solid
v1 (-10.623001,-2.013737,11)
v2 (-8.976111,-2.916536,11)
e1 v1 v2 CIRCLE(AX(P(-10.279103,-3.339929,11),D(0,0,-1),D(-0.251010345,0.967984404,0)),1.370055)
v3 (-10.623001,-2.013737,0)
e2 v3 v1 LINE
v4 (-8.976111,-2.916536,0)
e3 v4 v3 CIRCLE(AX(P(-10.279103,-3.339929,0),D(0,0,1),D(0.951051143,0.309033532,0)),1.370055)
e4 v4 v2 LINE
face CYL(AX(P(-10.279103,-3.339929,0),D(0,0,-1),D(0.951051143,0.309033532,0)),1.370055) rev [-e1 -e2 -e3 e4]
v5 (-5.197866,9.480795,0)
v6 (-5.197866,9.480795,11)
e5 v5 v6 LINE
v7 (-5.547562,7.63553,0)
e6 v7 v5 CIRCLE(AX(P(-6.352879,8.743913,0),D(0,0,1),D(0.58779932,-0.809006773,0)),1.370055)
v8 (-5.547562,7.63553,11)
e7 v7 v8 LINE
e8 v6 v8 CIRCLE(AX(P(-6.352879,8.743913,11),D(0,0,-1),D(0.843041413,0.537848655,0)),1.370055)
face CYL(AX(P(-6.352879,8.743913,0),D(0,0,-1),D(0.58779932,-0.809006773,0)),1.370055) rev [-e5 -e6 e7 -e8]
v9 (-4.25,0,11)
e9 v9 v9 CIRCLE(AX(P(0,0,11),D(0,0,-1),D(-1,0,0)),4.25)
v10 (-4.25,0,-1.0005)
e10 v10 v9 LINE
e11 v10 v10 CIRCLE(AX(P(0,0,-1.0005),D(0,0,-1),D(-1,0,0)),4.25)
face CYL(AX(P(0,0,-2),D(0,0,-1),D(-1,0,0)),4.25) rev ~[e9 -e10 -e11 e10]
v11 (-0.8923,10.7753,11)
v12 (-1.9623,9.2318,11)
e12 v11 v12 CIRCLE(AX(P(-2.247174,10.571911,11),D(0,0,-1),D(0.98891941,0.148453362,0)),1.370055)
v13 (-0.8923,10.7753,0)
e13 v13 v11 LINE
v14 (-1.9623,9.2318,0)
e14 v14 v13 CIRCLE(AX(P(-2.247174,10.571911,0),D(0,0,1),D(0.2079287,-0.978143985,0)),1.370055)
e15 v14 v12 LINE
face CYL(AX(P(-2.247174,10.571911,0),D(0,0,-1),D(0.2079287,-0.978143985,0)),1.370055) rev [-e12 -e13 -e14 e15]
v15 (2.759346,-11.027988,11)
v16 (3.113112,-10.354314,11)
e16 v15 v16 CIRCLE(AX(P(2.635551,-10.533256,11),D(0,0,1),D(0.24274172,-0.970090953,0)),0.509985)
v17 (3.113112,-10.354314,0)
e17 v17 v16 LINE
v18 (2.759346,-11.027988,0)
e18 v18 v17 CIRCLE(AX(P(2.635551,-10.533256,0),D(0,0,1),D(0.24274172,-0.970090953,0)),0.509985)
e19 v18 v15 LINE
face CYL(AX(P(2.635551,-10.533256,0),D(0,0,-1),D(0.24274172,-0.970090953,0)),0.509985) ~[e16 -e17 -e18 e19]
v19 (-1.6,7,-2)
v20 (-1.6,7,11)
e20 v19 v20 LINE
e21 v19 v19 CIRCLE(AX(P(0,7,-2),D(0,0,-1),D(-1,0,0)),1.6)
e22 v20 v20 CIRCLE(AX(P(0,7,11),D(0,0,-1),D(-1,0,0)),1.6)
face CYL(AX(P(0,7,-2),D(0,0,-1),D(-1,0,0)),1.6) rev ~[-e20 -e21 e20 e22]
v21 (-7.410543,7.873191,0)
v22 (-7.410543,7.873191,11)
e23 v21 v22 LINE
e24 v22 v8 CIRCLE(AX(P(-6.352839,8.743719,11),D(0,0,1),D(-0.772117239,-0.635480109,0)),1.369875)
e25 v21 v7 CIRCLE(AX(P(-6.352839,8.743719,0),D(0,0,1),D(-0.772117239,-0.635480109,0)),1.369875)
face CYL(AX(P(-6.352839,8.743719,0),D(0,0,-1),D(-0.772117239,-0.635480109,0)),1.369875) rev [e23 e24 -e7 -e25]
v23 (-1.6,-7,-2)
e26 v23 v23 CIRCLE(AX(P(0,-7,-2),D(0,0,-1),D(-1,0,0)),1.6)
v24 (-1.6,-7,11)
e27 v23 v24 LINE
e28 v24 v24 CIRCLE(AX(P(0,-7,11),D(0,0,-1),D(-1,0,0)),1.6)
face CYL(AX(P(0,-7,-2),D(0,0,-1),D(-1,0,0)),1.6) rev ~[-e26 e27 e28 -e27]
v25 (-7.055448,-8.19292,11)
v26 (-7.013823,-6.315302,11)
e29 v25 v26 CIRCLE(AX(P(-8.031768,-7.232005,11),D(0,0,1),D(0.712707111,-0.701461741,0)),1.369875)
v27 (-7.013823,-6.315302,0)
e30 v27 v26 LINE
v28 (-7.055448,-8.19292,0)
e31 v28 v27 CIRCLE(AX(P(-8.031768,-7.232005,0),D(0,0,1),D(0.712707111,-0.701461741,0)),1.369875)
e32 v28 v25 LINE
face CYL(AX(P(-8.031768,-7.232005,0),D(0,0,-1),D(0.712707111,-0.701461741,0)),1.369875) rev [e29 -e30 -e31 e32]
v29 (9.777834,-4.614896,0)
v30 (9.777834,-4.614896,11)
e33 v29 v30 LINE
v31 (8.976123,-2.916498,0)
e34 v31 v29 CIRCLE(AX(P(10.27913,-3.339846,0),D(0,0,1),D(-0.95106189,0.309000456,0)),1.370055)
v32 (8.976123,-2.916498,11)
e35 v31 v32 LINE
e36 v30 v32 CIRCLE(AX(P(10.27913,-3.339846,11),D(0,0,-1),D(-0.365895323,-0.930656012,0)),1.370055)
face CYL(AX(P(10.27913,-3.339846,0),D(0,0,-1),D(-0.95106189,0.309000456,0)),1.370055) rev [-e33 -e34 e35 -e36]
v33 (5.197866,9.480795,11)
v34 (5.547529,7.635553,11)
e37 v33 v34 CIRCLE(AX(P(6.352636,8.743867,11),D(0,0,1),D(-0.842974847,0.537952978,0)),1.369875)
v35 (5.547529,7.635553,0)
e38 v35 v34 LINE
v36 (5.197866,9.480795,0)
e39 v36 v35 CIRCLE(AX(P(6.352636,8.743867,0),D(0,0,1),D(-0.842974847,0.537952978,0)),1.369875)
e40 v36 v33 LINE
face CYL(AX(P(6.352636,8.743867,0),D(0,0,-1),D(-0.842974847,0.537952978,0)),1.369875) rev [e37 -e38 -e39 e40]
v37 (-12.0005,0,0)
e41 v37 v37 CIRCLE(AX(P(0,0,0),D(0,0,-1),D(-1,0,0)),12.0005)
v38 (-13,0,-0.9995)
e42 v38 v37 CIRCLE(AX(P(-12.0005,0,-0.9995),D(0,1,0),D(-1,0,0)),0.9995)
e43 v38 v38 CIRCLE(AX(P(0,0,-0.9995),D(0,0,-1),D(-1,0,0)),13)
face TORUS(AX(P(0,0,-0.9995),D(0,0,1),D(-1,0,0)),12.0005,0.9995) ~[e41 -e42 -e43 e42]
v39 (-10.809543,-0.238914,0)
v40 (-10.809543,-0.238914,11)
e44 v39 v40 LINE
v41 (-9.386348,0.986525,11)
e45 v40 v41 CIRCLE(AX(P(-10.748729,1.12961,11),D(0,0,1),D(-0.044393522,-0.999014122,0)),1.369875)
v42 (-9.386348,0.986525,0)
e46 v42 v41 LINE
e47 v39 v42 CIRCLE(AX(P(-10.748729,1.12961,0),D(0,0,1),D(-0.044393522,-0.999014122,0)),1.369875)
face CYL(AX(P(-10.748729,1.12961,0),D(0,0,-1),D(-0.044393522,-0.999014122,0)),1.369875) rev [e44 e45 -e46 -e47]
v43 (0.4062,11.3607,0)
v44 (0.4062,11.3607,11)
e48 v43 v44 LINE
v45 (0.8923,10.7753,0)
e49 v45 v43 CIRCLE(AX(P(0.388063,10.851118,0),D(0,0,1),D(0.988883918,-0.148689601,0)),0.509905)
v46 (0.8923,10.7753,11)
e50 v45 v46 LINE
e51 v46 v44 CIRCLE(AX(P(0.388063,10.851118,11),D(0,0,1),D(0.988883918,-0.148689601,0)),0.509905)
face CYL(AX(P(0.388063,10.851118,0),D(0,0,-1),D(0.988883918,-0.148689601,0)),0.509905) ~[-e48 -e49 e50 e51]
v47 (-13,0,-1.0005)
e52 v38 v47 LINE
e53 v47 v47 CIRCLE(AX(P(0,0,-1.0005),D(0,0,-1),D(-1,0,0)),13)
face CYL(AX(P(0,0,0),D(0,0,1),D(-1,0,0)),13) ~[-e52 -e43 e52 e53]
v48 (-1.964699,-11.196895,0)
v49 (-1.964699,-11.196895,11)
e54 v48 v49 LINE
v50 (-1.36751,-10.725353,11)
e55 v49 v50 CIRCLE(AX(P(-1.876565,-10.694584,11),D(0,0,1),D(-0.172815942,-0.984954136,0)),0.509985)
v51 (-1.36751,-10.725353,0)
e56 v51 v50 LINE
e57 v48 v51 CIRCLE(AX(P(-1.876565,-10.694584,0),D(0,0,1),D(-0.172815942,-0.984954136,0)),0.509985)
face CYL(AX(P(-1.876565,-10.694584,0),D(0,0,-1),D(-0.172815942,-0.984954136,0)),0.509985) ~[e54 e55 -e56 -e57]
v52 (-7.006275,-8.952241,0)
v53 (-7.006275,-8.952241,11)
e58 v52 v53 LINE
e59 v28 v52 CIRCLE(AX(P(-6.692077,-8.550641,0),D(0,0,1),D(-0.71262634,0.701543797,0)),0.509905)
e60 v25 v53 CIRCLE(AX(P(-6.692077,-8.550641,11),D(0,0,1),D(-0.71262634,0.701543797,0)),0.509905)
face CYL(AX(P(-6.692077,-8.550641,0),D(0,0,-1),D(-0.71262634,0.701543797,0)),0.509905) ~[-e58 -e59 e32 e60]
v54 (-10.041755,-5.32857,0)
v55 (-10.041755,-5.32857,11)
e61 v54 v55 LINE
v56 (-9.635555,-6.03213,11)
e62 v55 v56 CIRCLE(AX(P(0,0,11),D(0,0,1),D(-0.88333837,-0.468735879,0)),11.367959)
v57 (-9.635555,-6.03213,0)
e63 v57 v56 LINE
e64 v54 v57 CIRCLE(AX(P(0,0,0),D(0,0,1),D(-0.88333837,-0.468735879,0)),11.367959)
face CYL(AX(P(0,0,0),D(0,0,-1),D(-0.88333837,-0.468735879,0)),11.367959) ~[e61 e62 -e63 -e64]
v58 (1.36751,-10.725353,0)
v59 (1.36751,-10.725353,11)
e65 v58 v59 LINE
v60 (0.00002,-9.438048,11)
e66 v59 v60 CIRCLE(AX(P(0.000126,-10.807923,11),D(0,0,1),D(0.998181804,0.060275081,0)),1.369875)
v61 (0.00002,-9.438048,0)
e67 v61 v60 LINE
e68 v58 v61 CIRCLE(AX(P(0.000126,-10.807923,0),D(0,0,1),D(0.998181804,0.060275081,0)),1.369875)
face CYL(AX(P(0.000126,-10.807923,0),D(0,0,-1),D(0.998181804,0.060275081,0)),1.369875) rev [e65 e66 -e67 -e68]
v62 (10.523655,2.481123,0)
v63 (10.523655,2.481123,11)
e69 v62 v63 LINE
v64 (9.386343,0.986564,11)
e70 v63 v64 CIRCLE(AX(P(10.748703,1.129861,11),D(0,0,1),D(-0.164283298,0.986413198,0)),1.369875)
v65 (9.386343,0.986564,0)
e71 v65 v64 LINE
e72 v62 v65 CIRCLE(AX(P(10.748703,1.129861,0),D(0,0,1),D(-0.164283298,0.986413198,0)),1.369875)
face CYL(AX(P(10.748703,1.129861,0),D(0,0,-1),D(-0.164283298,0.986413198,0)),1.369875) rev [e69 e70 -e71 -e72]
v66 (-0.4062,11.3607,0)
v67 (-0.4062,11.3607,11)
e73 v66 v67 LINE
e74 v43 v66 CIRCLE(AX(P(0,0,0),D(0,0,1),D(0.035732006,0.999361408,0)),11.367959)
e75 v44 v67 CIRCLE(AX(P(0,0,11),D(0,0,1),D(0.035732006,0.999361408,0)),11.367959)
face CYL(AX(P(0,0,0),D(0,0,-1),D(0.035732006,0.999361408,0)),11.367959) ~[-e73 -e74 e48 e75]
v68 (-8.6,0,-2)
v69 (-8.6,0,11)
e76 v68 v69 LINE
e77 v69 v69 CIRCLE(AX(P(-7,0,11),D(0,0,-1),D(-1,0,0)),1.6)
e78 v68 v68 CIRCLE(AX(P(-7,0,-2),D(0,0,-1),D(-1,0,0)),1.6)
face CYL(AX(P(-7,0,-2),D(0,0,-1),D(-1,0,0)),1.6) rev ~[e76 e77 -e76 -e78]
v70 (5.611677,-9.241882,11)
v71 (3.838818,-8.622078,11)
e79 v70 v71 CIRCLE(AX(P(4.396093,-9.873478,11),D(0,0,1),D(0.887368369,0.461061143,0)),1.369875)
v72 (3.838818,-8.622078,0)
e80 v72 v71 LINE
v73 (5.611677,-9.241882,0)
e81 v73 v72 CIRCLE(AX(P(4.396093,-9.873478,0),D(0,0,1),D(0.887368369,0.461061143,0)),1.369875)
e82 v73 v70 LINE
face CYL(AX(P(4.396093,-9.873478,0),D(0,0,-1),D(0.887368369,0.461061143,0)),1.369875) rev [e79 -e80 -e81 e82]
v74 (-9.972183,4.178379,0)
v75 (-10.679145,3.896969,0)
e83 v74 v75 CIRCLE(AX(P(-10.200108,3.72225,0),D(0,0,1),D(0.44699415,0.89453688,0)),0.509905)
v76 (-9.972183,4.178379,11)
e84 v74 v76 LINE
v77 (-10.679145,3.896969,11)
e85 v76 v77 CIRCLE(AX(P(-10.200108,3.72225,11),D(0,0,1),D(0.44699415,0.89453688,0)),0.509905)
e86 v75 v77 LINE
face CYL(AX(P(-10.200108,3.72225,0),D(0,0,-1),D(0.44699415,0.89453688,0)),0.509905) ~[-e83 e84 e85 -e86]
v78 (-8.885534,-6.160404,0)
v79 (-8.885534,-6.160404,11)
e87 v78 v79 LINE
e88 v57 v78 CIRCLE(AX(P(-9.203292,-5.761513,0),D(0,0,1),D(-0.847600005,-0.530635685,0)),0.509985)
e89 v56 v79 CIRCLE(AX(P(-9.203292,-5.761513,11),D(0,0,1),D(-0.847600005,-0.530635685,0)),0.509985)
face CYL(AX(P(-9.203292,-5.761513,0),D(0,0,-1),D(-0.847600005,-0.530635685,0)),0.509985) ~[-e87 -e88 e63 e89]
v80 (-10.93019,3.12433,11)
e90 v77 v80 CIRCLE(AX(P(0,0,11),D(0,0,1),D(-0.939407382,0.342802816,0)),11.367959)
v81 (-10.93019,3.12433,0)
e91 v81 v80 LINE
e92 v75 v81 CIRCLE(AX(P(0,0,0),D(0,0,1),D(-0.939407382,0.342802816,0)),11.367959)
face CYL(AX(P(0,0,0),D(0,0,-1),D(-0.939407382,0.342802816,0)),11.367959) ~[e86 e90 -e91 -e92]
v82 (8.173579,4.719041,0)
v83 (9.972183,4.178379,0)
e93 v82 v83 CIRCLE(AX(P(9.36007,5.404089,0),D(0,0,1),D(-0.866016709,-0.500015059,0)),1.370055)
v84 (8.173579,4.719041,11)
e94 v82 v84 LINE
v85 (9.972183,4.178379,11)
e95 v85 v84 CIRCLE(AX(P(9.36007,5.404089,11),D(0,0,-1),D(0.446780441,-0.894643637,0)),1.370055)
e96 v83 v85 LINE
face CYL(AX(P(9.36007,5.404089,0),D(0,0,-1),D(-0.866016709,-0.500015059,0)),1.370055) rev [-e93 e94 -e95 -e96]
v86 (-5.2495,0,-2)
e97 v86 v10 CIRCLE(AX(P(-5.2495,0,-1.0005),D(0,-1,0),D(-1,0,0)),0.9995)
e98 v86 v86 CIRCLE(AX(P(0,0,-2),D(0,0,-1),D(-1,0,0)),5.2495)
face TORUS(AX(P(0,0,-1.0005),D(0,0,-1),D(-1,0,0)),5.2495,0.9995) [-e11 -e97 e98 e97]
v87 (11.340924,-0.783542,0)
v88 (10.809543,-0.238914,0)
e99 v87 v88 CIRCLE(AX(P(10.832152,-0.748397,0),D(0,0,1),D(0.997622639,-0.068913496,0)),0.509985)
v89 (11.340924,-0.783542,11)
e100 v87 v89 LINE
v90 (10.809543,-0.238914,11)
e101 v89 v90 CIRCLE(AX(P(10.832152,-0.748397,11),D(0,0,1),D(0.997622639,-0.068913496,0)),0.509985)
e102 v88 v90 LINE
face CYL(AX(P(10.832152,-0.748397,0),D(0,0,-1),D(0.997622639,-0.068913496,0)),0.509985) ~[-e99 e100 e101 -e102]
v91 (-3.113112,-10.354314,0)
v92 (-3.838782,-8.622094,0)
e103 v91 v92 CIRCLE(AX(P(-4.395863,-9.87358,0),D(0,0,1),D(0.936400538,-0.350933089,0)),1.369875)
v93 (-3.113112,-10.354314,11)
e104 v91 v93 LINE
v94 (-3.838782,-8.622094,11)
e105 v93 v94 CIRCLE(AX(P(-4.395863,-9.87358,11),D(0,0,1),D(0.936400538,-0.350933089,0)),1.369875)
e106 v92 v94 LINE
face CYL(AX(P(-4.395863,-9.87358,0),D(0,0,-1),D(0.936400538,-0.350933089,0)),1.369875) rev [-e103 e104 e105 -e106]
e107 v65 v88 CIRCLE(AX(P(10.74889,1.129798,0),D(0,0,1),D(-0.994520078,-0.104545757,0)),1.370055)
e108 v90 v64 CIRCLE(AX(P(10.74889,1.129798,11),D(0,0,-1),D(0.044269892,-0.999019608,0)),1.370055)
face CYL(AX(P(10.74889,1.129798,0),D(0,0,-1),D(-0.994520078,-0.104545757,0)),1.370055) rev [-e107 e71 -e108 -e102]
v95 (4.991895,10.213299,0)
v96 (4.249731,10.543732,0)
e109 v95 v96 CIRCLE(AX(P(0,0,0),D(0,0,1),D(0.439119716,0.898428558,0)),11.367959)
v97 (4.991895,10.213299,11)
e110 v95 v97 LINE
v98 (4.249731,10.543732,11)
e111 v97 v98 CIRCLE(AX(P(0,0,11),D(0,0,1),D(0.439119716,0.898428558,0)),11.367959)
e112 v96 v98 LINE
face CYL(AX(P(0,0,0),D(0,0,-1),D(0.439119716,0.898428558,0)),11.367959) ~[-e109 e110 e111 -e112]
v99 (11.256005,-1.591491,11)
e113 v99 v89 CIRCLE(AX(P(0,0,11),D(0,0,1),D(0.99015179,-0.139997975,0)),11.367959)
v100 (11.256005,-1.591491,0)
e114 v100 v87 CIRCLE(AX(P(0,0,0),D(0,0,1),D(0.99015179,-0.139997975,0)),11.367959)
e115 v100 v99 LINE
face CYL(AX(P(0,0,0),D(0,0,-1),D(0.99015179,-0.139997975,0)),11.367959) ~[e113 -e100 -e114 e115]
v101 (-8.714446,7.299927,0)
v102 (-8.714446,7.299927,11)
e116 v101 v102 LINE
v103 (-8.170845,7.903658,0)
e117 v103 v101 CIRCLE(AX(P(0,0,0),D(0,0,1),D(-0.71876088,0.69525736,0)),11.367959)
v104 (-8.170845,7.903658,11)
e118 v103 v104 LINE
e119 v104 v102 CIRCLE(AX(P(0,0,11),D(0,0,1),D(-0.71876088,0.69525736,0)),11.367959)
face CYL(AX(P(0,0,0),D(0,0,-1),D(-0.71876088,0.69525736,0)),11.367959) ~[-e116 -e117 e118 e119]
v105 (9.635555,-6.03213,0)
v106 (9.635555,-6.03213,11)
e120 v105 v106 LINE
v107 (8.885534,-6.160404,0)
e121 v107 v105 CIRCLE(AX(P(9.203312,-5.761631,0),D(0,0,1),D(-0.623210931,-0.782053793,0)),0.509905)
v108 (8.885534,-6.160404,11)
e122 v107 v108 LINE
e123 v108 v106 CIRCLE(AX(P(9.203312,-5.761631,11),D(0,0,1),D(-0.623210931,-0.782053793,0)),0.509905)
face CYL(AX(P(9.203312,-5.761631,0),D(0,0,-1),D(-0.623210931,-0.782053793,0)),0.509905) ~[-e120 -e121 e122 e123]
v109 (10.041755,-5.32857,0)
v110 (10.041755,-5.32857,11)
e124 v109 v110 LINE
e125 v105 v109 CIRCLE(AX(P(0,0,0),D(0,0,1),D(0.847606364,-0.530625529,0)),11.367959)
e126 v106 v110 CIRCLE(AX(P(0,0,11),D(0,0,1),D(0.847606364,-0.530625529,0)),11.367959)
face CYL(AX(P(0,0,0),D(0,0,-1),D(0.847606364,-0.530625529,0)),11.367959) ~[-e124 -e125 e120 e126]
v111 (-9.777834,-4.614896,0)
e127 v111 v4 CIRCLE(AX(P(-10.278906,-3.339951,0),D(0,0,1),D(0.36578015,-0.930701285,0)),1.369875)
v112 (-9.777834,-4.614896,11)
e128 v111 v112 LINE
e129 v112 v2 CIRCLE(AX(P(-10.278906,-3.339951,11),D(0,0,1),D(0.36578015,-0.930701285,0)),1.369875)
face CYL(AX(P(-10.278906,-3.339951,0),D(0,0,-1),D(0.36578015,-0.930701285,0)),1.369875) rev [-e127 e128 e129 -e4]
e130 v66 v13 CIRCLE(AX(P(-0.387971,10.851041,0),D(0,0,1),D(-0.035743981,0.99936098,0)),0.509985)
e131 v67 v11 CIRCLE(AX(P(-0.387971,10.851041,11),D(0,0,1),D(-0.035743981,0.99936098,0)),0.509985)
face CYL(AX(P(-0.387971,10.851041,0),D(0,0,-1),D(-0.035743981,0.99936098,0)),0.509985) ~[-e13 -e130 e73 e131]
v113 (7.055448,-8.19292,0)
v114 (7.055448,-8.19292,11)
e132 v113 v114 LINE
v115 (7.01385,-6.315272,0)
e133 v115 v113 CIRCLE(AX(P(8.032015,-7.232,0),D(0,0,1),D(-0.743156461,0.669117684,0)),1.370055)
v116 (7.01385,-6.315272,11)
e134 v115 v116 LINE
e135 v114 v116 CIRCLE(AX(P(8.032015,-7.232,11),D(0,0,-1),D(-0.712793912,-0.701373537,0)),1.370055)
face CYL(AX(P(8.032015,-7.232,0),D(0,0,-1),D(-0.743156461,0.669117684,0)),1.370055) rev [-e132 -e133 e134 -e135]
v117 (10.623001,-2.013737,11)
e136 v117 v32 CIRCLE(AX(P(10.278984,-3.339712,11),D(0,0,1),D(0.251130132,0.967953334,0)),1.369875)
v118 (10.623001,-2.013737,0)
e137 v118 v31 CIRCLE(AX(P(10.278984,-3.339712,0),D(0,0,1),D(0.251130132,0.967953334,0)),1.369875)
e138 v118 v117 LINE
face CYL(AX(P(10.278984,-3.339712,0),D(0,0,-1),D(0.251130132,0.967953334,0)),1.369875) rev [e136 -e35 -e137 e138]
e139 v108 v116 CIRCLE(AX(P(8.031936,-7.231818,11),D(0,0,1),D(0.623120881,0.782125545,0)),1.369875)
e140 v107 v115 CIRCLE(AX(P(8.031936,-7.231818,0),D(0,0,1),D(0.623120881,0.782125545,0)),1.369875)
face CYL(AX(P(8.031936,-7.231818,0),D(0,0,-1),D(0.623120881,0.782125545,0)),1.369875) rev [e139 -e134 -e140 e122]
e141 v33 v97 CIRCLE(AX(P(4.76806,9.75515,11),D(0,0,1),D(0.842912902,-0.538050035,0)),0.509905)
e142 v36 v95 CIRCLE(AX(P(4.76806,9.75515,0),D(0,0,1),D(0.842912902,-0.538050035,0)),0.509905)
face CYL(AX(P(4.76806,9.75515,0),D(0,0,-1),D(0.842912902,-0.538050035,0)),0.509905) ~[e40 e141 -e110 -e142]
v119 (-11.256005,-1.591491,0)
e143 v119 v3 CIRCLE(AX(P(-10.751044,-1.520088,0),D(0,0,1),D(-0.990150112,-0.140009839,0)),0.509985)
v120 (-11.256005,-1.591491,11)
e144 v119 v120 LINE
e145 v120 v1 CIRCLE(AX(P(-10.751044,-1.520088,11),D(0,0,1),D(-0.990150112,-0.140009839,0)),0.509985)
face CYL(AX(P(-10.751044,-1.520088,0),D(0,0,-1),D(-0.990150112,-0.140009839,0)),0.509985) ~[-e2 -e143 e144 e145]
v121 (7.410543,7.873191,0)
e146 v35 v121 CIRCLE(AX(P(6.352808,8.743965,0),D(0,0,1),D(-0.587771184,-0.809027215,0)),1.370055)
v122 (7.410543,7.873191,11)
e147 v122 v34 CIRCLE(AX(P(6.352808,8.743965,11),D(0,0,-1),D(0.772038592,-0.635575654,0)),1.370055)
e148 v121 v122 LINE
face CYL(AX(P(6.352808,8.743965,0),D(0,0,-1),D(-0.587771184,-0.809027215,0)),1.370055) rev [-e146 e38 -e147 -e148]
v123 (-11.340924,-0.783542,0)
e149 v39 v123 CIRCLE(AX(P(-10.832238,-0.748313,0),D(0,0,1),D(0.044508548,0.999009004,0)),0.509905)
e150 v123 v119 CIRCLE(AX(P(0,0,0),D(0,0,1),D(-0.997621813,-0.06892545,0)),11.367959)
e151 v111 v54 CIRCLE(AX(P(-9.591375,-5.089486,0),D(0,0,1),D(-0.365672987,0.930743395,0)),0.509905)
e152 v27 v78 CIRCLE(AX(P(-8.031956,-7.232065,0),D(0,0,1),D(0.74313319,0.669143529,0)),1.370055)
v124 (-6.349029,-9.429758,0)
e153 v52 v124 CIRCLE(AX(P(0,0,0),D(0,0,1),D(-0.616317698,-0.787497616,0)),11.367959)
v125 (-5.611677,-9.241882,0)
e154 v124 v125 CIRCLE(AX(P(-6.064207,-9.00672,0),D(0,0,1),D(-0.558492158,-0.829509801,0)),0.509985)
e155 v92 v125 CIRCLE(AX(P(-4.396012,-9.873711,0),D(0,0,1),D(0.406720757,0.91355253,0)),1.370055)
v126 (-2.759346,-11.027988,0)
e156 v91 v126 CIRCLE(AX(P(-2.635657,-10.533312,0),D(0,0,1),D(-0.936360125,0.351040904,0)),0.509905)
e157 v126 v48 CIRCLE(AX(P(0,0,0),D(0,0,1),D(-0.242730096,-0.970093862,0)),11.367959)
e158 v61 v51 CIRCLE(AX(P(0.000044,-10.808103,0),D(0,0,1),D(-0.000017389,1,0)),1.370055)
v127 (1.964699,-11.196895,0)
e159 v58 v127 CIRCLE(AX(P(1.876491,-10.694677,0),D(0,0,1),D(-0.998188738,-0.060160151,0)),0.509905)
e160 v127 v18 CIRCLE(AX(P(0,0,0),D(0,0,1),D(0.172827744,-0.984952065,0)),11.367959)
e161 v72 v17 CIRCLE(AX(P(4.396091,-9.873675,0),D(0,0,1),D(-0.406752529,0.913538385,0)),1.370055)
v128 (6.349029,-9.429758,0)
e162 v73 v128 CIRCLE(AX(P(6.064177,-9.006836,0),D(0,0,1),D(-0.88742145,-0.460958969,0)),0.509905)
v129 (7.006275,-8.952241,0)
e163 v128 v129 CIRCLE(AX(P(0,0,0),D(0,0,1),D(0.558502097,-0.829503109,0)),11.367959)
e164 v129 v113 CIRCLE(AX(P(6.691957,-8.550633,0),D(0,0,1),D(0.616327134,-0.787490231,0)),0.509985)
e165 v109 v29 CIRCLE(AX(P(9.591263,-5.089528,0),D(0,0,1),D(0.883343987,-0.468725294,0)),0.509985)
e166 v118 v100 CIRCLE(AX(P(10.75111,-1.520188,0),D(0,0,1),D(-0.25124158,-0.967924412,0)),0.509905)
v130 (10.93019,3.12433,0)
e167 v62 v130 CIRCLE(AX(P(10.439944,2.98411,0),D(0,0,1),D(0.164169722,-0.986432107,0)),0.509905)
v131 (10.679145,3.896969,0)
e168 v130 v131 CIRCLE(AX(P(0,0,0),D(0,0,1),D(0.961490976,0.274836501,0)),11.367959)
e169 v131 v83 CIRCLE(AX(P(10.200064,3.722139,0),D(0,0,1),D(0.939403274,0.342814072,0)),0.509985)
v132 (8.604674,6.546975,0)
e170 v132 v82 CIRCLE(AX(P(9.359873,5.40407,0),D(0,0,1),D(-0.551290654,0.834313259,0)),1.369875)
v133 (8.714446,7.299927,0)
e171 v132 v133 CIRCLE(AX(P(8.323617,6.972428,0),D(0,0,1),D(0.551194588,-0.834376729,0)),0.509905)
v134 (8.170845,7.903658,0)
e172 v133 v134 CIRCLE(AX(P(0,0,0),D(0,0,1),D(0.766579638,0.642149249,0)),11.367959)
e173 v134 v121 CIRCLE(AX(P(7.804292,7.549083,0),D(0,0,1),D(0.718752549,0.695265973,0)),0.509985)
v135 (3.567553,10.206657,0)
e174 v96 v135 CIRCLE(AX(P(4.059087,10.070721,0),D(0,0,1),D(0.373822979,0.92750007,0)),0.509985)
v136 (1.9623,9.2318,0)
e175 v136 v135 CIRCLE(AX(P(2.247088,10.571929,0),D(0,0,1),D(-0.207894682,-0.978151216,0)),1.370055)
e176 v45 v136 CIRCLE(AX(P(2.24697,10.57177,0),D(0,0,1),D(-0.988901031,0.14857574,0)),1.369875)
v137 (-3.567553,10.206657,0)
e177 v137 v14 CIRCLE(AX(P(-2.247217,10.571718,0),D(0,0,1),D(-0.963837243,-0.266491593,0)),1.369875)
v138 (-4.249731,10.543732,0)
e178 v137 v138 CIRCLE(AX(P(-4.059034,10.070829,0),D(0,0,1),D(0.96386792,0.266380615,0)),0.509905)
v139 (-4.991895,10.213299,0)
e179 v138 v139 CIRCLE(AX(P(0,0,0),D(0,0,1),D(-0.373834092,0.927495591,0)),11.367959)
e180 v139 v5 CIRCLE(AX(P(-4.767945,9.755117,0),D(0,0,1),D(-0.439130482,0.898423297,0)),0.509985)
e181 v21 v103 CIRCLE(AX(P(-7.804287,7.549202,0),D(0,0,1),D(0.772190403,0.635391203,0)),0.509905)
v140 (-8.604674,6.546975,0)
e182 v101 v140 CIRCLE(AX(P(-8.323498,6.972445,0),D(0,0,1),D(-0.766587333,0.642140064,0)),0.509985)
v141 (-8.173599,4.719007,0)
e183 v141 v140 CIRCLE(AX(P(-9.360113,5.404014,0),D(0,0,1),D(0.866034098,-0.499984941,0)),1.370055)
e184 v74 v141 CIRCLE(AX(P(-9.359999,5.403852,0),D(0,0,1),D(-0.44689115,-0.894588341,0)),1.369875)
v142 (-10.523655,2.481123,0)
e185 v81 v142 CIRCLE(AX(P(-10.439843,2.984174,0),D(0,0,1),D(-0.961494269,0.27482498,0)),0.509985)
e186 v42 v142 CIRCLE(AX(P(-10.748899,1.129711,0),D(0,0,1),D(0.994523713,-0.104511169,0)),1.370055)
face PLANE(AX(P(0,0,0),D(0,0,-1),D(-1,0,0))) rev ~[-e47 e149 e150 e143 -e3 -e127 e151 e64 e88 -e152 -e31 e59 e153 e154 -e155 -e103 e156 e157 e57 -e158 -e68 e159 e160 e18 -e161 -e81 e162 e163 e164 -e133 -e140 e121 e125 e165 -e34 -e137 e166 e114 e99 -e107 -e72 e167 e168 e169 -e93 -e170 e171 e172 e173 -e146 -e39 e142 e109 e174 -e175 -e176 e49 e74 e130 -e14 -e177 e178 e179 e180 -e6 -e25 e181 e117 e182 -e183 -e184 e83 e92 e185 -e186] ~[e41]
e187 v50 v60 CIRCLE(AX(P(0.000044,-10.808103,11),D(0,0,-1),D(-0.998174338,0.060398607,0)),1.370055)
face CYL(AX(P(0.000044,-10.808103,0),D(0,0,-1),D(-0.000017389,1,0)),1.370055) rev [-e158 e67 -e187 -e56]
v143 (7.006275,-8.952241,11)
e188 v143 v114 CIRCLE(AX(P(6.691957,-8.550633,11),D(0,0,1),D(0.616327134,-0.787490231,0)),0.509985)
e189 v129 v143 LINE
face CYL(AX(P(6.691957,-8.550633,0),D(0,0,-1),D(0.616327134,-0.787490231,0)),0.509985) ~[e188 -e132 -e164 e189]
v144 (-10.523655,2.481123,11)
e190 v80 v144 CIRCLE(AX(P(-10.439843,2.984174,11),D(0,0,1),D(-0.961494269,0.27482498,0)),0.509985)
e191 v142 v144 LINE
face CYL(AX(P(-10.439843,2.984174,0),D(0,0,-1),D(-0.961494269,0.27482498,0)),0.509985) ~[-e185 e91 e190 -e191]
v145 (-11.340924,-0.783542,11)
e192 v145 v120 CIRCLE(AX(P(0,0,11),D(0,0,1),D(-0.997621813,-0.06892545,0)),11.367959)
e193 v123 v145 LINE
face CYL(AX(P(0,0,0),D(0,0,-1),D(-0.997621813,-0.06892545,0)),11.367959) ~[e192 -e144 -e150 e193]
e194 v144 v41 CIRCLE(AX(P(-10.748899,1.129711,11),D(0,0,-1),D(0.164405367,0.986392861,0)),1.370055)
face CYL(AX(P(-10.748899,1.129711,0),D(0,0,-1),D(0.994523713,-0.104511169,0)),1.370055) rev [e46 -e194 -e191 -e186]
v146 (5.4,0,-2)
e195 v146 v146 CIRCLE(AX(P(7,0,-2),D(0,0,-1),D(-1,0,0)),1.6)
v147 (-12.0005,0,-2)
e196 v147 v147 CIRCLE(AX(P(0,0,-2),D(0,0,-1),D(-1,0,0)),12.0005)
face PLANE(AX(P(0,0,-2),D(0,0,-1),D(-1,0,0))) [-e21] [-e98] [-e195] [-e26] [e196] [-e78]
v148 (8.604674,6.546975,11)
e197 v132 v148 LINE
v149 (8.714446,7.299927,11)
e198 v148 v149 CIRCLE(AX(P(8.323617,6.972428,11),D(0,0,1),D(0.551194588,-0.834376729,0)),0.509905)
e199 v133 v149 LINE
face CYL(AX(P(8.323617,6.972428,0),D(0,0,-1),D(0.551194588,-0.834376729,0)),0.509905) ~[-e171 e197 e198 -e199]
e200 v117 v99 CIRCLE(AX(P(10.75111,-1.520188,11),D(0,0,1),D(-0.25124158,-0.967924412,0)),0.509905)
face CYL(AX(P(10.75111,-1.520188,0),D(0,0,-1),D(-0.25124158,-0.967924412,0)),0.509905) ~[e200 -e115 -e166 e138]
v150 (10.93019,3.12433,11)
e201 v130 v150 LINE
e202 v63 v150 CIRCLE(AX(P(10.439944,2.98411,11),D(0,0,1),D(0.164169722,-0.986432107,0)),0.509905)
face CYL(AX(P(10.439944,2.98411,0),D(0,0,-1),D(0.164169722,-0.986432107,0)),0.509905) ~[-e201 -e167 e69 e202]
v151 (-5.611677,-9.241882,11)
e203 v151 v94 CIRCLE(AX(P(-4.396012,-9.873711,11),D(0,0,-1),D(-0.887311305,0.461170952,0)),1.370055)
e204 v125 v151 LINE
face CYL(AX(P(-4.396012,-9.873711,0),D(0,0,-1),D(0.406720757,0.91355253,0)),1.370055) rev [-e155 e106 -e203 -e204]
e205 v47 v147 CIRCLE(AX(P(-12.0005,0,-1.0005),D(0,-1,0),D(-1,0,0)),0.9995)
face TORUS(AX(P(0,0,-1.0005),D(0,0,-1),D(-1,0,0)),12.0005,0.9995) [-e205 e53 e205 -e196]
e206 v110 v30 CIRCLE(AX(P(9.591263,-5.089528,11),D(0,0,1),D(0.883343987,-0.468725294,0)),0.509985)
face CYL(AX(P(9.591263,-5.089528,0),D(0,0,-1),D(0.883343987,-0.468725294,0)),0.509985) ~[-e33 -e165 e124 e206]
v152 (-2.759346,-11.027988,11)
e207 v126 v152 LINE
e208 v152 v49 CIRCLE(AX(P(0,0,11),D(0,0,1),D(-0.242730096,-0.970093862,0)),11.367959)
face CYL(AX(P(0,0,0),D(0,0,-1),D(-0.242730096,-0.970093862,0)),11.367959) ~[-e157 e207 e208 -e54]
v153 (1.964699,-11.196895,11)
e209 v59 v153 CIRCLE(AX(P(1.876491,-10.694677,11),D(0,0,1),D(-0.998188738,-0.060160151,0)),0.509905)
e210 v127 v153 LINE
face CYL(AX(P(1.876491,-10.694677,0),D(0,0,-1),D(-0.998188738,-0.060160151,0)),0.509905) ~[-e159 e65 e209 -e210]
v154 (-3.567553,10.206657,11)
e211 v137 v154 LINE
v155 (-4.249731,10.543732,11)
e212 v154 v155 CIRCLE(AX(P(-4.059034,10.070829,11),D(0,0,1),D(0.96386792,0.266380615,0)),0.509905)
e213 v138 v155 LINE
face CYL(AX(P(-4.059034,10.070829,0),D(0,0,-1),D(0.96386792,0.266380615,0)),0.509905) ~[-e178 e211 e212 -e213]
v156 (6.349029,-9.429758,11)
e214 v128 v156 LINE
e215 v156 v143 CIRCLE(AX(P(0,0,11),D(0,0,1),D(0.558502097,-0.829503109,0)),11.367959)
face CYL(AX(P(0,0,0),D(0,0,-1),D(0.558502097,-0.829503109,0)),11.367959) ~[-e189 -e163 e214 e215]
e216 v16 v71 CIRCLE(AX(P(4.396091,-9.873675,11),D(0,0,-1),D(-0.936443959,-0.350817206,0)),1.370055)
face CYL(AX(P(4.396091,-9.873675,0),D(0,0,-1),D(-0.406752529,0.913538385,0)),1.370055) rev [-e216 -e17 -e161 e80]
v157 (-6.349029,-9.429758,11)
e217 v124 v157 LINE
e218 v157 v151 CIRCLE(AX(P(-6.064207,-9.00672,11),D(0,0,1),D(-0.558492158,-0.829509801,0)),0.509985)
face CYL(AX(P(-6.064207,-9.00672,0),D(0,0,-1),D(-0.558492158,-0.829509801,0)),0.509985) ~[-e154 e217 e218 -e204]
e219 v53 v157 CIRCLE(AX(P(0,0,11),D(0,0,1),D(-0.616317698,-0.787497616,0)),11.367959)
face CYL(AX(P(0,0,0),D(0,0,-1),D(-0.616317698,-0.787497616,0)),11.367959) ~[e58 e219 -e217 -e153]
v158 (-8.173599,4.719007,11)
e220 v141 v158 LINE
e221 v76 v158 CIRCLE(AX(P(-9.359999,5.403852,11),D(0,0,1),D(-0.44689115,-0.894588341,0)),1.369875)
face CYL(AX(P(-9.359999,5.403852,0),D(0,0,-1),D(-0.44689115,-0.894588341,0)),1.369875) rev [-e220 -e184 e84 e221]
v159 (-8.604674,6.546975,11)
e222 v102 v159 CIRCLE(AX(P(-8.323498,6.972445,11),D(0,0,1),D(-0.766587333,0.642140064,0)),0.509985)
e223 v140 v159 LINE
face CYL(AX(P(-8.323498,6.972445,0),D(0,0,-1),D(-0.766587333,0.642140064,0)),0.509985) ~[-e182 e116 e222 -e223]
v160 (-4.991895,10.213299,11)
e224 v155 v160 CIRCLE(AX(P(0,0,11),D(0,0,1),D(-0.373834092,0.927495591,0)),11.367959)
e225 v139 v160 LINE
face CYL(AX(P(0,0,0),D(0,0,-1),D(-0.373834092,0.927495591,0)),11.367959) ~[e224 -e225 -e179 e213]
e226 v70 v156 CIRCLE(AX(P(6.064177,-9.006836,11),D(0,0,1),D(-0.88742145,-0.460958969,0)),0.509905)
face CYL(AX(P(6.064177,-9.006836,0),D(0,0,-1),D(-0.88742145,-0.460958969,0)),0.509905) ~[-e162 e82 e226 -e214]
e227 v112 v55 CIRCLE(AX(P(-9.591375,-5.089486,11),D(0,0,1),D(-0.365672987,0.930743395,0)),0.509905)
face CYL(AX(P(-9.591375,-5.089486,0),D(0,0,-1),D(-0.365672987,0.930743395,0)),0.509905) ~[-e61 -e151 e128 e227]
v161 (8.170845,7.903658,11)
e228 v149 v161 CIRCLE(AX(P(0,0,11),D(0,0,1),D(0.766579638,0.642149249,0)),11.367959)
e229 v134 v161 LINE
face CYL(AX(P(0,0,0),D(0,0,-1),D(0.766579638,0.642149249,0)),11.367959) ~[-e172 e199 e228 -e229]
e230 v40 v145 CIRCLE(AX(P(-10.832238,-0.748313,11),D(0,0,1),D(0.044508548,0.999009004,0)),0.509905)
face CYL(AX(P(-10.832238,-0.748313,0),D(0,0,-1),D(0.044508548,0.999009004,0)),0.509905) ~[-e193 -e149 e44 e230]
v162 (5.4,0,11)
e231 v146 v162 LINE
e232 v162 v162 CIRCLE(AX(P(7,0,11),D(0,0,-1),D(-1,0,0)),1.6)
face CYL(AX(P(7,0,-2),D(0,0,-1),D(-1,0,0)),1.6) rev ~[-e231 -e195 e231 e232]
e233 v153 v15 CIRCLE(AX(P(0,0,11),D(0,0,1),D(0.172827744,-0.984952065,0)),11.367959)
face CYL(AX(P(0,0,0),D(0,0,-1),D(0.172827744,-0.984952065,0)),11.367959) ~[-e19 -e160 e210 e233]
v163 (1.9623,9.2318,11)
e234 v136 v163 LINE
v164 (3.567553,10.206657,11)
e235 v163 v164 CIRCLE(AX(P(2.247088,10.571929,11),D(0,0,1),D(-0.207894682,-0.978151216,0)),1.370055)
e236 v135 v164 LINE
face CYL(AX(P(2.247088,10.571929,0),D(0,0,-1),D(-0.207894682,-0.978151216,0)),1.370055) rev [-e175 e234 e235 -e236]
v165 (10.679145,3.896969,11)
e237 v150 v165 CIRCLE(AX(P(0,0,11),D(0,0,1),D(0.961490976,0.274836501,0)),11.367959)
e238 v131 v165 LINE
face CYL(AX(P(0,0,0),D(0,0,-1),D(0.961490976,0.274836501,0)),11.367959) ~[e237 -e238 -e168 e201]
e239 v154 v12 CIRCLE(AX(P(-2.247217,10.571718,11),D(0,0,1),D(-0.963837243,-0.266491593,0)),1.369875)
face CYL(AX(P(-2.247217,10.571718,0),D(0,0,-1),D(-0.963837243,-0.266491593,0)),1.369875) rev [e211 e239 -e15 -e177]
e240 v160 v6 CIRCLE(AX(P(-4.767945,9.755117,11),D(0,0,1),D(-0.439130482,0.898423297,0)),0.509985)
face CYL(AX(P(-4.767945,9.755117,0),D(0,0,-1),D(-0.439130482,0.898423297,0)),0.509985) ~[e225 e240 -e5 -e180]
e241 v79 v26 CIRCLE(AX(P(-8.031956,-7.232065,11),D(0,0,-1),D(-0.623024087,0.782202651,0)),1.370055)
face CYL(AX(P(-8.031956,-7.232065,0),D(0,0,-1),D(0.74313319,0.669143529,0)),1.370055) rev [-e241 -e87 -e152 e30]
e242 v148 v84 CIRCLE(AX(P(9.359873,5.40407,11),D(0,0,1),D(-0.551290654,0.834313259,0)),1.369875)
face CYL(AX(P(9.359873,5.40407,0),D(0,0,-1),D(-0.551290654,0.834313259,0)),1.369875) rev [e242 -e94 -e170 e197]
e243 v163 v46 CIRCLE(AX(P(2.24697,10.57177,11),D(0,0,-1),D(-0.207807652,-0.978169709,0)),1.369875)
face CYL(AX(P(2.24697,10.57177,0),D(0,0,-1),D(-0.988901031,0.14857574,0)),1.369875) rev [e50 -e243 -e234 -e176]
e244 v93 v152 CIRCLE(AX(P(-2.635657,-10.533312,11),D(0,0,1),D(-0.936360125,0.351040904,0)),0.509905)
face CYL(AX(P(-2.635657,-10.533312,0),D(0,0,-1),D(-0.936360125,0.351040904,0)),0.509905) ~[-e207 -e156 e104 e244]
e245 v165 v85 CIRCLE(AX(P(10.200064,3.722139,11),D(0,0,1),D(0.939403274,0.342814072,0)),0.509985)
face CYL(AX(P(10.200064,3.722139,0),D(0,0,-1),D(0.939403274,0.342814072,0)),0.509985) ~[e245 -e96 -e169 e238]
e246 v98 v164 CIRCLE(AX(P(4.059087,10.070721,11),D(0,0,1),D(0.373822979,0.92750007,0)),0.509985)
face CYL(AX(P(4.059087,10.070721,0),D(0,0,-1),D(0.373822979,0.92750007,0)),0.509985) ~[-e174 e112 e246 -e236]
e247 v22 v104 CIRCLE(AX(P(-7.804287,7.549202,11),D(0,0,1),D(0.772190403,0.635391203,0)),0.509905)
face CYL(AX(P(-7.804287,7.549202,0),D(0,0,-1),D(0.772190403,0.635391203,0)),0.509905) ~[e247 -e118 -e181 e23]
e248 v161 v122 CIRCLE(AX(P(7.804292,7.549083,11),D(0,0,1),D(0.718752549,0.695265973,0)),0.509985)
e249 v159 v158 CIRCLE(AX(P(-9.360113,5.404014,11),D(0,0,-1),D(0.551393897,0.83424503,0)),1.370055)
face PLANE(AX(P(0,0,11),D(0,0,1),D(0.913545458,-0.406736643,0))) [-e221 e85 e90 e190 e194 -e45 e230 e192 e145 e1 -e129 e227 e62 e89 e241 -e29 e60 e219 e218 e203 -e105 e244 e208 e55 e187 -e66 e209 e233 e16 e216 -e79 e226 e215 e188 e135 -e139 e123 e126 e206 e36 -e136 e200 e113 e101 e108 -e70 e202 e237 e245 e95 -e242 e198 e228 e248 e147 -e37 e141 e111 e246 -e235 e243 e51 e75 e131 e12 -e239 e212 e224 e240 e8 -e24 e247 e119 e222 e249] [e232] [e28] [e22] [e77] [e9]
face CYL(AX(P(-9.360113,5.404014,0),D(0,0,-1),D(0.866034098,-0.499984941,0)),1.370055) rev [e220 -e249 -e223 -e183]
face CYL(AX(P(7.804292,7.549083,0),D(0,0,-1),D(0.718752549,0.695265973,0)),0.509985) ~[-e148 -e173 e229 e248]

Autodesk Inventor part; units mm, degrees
ref_plane "YZ Plane" through (0, 0, 0) normal (1, 0, 0) x (0, 1, 0)
ref_plane "XZ Plane" through (0, 0, 0) normal (0, 1, 0) x (-1, 0, 0)
ref_plane "XY Plane" through (0, 0, 0) normal (0, 0, 1) x (1, 0, 0)
sketch "スケッチ1" plane through (0, 0, 0) normal (0, 0, 1) x (1, 0, 0)
  arc A0 (0.7632, 11.9121) -> (-1.0179, 11.893) centre (0, 0) ccw construction
  arc A1 (0.4062, 11.3607) -> (-0.4062, 11.3607) centre (0, 0) ccw
  arc A2 (9.3048, 1.5803) -> (-9.0567, 2.6555) centre (0, 0) ccw construction
  arc A3 (0.8923, 10.7753) -> (1.9623, 9.2318) centre (2.2471, 10.5718) ccw
  line L0 (1.9623, 9.2318) -> (0, 0)
  arc A4 (-1.9623, 9.2318) -> (-0.8923, 10.7753) centre (-2.2471, 10.5718) ccw
  line L1 (-1.9623, 9.2318) -> (0, 0)
  arc A5 (-0.4062, 11.3607) -> (-0.8923, 10.7753) centre (-0.388, 10.8511) ccw
  arc A6 (0.8923, 10.7753) -> (0.4062, 11.3607) centre (0.388, 10.8511) ccw
  line L2 (0, 0) -> (0, 2.9942) construction
  dimension "d0" = 11.9365
  dimension "d1" = 11.368
  dimension "d2" = 1.93
  dimension "d3" = 0.51
  dimension "d4" = 1.37
  dimension "d5" = 1.37
  dimension "d6" = 24
  dimension "d7" = 12
extrude "押し出し1" add sketch "スケッチ1" along normal blind 11
pattern_circular "円形状パターン1" count 15 over 360 about axis through (0, 0, 0) along (0, 0, 1) of "押し出し1"
sketch "スケッチ3" plane through (0, 0, 0) normal (0, 0, -1) x (-1, 0, 0)
  circle A0 centre (0, 0) radius 13
  dimension "d16" = 26
extrude "押し出し3" add sketch "スケッチ3" along normal blind 2
sketch "スケッチ4" plane through (0, 0, -2) normal (0, 0, -1) x (-1, 0, 0)
  circle A0 centre (0, 0) radius 4.25
  circle A1 centre (-7, 0) radius 1.6
  circle A2 centre (7, 0) radius 1.6
  circle A3 centre (0, 7) radius 1.6
  circle A4 centre (0, -7) radius 1.6
  dimension "d19" = 8.5
  dimension "d20" = 3.2
  dimension "d21" = 3.2
  dimension "d22" = 3.2
  dimension "d23" = 14
  dimension "d24" = 7
  dimension "d25" = 7
  dimension "d26" = 3.2
  dimension "d27" = 7
extrude "押し出し4" cut sketch "スケッチ4" against normal through all
fillet "フィレット1" radius 1 3 edges at (13, 0, 0) (13, 0, -2) (4.25, 0, -2)
equation "\"d24\" = 0.5 * d23"
properties part number "プーリ_歯数15_3Dプリンタ"
